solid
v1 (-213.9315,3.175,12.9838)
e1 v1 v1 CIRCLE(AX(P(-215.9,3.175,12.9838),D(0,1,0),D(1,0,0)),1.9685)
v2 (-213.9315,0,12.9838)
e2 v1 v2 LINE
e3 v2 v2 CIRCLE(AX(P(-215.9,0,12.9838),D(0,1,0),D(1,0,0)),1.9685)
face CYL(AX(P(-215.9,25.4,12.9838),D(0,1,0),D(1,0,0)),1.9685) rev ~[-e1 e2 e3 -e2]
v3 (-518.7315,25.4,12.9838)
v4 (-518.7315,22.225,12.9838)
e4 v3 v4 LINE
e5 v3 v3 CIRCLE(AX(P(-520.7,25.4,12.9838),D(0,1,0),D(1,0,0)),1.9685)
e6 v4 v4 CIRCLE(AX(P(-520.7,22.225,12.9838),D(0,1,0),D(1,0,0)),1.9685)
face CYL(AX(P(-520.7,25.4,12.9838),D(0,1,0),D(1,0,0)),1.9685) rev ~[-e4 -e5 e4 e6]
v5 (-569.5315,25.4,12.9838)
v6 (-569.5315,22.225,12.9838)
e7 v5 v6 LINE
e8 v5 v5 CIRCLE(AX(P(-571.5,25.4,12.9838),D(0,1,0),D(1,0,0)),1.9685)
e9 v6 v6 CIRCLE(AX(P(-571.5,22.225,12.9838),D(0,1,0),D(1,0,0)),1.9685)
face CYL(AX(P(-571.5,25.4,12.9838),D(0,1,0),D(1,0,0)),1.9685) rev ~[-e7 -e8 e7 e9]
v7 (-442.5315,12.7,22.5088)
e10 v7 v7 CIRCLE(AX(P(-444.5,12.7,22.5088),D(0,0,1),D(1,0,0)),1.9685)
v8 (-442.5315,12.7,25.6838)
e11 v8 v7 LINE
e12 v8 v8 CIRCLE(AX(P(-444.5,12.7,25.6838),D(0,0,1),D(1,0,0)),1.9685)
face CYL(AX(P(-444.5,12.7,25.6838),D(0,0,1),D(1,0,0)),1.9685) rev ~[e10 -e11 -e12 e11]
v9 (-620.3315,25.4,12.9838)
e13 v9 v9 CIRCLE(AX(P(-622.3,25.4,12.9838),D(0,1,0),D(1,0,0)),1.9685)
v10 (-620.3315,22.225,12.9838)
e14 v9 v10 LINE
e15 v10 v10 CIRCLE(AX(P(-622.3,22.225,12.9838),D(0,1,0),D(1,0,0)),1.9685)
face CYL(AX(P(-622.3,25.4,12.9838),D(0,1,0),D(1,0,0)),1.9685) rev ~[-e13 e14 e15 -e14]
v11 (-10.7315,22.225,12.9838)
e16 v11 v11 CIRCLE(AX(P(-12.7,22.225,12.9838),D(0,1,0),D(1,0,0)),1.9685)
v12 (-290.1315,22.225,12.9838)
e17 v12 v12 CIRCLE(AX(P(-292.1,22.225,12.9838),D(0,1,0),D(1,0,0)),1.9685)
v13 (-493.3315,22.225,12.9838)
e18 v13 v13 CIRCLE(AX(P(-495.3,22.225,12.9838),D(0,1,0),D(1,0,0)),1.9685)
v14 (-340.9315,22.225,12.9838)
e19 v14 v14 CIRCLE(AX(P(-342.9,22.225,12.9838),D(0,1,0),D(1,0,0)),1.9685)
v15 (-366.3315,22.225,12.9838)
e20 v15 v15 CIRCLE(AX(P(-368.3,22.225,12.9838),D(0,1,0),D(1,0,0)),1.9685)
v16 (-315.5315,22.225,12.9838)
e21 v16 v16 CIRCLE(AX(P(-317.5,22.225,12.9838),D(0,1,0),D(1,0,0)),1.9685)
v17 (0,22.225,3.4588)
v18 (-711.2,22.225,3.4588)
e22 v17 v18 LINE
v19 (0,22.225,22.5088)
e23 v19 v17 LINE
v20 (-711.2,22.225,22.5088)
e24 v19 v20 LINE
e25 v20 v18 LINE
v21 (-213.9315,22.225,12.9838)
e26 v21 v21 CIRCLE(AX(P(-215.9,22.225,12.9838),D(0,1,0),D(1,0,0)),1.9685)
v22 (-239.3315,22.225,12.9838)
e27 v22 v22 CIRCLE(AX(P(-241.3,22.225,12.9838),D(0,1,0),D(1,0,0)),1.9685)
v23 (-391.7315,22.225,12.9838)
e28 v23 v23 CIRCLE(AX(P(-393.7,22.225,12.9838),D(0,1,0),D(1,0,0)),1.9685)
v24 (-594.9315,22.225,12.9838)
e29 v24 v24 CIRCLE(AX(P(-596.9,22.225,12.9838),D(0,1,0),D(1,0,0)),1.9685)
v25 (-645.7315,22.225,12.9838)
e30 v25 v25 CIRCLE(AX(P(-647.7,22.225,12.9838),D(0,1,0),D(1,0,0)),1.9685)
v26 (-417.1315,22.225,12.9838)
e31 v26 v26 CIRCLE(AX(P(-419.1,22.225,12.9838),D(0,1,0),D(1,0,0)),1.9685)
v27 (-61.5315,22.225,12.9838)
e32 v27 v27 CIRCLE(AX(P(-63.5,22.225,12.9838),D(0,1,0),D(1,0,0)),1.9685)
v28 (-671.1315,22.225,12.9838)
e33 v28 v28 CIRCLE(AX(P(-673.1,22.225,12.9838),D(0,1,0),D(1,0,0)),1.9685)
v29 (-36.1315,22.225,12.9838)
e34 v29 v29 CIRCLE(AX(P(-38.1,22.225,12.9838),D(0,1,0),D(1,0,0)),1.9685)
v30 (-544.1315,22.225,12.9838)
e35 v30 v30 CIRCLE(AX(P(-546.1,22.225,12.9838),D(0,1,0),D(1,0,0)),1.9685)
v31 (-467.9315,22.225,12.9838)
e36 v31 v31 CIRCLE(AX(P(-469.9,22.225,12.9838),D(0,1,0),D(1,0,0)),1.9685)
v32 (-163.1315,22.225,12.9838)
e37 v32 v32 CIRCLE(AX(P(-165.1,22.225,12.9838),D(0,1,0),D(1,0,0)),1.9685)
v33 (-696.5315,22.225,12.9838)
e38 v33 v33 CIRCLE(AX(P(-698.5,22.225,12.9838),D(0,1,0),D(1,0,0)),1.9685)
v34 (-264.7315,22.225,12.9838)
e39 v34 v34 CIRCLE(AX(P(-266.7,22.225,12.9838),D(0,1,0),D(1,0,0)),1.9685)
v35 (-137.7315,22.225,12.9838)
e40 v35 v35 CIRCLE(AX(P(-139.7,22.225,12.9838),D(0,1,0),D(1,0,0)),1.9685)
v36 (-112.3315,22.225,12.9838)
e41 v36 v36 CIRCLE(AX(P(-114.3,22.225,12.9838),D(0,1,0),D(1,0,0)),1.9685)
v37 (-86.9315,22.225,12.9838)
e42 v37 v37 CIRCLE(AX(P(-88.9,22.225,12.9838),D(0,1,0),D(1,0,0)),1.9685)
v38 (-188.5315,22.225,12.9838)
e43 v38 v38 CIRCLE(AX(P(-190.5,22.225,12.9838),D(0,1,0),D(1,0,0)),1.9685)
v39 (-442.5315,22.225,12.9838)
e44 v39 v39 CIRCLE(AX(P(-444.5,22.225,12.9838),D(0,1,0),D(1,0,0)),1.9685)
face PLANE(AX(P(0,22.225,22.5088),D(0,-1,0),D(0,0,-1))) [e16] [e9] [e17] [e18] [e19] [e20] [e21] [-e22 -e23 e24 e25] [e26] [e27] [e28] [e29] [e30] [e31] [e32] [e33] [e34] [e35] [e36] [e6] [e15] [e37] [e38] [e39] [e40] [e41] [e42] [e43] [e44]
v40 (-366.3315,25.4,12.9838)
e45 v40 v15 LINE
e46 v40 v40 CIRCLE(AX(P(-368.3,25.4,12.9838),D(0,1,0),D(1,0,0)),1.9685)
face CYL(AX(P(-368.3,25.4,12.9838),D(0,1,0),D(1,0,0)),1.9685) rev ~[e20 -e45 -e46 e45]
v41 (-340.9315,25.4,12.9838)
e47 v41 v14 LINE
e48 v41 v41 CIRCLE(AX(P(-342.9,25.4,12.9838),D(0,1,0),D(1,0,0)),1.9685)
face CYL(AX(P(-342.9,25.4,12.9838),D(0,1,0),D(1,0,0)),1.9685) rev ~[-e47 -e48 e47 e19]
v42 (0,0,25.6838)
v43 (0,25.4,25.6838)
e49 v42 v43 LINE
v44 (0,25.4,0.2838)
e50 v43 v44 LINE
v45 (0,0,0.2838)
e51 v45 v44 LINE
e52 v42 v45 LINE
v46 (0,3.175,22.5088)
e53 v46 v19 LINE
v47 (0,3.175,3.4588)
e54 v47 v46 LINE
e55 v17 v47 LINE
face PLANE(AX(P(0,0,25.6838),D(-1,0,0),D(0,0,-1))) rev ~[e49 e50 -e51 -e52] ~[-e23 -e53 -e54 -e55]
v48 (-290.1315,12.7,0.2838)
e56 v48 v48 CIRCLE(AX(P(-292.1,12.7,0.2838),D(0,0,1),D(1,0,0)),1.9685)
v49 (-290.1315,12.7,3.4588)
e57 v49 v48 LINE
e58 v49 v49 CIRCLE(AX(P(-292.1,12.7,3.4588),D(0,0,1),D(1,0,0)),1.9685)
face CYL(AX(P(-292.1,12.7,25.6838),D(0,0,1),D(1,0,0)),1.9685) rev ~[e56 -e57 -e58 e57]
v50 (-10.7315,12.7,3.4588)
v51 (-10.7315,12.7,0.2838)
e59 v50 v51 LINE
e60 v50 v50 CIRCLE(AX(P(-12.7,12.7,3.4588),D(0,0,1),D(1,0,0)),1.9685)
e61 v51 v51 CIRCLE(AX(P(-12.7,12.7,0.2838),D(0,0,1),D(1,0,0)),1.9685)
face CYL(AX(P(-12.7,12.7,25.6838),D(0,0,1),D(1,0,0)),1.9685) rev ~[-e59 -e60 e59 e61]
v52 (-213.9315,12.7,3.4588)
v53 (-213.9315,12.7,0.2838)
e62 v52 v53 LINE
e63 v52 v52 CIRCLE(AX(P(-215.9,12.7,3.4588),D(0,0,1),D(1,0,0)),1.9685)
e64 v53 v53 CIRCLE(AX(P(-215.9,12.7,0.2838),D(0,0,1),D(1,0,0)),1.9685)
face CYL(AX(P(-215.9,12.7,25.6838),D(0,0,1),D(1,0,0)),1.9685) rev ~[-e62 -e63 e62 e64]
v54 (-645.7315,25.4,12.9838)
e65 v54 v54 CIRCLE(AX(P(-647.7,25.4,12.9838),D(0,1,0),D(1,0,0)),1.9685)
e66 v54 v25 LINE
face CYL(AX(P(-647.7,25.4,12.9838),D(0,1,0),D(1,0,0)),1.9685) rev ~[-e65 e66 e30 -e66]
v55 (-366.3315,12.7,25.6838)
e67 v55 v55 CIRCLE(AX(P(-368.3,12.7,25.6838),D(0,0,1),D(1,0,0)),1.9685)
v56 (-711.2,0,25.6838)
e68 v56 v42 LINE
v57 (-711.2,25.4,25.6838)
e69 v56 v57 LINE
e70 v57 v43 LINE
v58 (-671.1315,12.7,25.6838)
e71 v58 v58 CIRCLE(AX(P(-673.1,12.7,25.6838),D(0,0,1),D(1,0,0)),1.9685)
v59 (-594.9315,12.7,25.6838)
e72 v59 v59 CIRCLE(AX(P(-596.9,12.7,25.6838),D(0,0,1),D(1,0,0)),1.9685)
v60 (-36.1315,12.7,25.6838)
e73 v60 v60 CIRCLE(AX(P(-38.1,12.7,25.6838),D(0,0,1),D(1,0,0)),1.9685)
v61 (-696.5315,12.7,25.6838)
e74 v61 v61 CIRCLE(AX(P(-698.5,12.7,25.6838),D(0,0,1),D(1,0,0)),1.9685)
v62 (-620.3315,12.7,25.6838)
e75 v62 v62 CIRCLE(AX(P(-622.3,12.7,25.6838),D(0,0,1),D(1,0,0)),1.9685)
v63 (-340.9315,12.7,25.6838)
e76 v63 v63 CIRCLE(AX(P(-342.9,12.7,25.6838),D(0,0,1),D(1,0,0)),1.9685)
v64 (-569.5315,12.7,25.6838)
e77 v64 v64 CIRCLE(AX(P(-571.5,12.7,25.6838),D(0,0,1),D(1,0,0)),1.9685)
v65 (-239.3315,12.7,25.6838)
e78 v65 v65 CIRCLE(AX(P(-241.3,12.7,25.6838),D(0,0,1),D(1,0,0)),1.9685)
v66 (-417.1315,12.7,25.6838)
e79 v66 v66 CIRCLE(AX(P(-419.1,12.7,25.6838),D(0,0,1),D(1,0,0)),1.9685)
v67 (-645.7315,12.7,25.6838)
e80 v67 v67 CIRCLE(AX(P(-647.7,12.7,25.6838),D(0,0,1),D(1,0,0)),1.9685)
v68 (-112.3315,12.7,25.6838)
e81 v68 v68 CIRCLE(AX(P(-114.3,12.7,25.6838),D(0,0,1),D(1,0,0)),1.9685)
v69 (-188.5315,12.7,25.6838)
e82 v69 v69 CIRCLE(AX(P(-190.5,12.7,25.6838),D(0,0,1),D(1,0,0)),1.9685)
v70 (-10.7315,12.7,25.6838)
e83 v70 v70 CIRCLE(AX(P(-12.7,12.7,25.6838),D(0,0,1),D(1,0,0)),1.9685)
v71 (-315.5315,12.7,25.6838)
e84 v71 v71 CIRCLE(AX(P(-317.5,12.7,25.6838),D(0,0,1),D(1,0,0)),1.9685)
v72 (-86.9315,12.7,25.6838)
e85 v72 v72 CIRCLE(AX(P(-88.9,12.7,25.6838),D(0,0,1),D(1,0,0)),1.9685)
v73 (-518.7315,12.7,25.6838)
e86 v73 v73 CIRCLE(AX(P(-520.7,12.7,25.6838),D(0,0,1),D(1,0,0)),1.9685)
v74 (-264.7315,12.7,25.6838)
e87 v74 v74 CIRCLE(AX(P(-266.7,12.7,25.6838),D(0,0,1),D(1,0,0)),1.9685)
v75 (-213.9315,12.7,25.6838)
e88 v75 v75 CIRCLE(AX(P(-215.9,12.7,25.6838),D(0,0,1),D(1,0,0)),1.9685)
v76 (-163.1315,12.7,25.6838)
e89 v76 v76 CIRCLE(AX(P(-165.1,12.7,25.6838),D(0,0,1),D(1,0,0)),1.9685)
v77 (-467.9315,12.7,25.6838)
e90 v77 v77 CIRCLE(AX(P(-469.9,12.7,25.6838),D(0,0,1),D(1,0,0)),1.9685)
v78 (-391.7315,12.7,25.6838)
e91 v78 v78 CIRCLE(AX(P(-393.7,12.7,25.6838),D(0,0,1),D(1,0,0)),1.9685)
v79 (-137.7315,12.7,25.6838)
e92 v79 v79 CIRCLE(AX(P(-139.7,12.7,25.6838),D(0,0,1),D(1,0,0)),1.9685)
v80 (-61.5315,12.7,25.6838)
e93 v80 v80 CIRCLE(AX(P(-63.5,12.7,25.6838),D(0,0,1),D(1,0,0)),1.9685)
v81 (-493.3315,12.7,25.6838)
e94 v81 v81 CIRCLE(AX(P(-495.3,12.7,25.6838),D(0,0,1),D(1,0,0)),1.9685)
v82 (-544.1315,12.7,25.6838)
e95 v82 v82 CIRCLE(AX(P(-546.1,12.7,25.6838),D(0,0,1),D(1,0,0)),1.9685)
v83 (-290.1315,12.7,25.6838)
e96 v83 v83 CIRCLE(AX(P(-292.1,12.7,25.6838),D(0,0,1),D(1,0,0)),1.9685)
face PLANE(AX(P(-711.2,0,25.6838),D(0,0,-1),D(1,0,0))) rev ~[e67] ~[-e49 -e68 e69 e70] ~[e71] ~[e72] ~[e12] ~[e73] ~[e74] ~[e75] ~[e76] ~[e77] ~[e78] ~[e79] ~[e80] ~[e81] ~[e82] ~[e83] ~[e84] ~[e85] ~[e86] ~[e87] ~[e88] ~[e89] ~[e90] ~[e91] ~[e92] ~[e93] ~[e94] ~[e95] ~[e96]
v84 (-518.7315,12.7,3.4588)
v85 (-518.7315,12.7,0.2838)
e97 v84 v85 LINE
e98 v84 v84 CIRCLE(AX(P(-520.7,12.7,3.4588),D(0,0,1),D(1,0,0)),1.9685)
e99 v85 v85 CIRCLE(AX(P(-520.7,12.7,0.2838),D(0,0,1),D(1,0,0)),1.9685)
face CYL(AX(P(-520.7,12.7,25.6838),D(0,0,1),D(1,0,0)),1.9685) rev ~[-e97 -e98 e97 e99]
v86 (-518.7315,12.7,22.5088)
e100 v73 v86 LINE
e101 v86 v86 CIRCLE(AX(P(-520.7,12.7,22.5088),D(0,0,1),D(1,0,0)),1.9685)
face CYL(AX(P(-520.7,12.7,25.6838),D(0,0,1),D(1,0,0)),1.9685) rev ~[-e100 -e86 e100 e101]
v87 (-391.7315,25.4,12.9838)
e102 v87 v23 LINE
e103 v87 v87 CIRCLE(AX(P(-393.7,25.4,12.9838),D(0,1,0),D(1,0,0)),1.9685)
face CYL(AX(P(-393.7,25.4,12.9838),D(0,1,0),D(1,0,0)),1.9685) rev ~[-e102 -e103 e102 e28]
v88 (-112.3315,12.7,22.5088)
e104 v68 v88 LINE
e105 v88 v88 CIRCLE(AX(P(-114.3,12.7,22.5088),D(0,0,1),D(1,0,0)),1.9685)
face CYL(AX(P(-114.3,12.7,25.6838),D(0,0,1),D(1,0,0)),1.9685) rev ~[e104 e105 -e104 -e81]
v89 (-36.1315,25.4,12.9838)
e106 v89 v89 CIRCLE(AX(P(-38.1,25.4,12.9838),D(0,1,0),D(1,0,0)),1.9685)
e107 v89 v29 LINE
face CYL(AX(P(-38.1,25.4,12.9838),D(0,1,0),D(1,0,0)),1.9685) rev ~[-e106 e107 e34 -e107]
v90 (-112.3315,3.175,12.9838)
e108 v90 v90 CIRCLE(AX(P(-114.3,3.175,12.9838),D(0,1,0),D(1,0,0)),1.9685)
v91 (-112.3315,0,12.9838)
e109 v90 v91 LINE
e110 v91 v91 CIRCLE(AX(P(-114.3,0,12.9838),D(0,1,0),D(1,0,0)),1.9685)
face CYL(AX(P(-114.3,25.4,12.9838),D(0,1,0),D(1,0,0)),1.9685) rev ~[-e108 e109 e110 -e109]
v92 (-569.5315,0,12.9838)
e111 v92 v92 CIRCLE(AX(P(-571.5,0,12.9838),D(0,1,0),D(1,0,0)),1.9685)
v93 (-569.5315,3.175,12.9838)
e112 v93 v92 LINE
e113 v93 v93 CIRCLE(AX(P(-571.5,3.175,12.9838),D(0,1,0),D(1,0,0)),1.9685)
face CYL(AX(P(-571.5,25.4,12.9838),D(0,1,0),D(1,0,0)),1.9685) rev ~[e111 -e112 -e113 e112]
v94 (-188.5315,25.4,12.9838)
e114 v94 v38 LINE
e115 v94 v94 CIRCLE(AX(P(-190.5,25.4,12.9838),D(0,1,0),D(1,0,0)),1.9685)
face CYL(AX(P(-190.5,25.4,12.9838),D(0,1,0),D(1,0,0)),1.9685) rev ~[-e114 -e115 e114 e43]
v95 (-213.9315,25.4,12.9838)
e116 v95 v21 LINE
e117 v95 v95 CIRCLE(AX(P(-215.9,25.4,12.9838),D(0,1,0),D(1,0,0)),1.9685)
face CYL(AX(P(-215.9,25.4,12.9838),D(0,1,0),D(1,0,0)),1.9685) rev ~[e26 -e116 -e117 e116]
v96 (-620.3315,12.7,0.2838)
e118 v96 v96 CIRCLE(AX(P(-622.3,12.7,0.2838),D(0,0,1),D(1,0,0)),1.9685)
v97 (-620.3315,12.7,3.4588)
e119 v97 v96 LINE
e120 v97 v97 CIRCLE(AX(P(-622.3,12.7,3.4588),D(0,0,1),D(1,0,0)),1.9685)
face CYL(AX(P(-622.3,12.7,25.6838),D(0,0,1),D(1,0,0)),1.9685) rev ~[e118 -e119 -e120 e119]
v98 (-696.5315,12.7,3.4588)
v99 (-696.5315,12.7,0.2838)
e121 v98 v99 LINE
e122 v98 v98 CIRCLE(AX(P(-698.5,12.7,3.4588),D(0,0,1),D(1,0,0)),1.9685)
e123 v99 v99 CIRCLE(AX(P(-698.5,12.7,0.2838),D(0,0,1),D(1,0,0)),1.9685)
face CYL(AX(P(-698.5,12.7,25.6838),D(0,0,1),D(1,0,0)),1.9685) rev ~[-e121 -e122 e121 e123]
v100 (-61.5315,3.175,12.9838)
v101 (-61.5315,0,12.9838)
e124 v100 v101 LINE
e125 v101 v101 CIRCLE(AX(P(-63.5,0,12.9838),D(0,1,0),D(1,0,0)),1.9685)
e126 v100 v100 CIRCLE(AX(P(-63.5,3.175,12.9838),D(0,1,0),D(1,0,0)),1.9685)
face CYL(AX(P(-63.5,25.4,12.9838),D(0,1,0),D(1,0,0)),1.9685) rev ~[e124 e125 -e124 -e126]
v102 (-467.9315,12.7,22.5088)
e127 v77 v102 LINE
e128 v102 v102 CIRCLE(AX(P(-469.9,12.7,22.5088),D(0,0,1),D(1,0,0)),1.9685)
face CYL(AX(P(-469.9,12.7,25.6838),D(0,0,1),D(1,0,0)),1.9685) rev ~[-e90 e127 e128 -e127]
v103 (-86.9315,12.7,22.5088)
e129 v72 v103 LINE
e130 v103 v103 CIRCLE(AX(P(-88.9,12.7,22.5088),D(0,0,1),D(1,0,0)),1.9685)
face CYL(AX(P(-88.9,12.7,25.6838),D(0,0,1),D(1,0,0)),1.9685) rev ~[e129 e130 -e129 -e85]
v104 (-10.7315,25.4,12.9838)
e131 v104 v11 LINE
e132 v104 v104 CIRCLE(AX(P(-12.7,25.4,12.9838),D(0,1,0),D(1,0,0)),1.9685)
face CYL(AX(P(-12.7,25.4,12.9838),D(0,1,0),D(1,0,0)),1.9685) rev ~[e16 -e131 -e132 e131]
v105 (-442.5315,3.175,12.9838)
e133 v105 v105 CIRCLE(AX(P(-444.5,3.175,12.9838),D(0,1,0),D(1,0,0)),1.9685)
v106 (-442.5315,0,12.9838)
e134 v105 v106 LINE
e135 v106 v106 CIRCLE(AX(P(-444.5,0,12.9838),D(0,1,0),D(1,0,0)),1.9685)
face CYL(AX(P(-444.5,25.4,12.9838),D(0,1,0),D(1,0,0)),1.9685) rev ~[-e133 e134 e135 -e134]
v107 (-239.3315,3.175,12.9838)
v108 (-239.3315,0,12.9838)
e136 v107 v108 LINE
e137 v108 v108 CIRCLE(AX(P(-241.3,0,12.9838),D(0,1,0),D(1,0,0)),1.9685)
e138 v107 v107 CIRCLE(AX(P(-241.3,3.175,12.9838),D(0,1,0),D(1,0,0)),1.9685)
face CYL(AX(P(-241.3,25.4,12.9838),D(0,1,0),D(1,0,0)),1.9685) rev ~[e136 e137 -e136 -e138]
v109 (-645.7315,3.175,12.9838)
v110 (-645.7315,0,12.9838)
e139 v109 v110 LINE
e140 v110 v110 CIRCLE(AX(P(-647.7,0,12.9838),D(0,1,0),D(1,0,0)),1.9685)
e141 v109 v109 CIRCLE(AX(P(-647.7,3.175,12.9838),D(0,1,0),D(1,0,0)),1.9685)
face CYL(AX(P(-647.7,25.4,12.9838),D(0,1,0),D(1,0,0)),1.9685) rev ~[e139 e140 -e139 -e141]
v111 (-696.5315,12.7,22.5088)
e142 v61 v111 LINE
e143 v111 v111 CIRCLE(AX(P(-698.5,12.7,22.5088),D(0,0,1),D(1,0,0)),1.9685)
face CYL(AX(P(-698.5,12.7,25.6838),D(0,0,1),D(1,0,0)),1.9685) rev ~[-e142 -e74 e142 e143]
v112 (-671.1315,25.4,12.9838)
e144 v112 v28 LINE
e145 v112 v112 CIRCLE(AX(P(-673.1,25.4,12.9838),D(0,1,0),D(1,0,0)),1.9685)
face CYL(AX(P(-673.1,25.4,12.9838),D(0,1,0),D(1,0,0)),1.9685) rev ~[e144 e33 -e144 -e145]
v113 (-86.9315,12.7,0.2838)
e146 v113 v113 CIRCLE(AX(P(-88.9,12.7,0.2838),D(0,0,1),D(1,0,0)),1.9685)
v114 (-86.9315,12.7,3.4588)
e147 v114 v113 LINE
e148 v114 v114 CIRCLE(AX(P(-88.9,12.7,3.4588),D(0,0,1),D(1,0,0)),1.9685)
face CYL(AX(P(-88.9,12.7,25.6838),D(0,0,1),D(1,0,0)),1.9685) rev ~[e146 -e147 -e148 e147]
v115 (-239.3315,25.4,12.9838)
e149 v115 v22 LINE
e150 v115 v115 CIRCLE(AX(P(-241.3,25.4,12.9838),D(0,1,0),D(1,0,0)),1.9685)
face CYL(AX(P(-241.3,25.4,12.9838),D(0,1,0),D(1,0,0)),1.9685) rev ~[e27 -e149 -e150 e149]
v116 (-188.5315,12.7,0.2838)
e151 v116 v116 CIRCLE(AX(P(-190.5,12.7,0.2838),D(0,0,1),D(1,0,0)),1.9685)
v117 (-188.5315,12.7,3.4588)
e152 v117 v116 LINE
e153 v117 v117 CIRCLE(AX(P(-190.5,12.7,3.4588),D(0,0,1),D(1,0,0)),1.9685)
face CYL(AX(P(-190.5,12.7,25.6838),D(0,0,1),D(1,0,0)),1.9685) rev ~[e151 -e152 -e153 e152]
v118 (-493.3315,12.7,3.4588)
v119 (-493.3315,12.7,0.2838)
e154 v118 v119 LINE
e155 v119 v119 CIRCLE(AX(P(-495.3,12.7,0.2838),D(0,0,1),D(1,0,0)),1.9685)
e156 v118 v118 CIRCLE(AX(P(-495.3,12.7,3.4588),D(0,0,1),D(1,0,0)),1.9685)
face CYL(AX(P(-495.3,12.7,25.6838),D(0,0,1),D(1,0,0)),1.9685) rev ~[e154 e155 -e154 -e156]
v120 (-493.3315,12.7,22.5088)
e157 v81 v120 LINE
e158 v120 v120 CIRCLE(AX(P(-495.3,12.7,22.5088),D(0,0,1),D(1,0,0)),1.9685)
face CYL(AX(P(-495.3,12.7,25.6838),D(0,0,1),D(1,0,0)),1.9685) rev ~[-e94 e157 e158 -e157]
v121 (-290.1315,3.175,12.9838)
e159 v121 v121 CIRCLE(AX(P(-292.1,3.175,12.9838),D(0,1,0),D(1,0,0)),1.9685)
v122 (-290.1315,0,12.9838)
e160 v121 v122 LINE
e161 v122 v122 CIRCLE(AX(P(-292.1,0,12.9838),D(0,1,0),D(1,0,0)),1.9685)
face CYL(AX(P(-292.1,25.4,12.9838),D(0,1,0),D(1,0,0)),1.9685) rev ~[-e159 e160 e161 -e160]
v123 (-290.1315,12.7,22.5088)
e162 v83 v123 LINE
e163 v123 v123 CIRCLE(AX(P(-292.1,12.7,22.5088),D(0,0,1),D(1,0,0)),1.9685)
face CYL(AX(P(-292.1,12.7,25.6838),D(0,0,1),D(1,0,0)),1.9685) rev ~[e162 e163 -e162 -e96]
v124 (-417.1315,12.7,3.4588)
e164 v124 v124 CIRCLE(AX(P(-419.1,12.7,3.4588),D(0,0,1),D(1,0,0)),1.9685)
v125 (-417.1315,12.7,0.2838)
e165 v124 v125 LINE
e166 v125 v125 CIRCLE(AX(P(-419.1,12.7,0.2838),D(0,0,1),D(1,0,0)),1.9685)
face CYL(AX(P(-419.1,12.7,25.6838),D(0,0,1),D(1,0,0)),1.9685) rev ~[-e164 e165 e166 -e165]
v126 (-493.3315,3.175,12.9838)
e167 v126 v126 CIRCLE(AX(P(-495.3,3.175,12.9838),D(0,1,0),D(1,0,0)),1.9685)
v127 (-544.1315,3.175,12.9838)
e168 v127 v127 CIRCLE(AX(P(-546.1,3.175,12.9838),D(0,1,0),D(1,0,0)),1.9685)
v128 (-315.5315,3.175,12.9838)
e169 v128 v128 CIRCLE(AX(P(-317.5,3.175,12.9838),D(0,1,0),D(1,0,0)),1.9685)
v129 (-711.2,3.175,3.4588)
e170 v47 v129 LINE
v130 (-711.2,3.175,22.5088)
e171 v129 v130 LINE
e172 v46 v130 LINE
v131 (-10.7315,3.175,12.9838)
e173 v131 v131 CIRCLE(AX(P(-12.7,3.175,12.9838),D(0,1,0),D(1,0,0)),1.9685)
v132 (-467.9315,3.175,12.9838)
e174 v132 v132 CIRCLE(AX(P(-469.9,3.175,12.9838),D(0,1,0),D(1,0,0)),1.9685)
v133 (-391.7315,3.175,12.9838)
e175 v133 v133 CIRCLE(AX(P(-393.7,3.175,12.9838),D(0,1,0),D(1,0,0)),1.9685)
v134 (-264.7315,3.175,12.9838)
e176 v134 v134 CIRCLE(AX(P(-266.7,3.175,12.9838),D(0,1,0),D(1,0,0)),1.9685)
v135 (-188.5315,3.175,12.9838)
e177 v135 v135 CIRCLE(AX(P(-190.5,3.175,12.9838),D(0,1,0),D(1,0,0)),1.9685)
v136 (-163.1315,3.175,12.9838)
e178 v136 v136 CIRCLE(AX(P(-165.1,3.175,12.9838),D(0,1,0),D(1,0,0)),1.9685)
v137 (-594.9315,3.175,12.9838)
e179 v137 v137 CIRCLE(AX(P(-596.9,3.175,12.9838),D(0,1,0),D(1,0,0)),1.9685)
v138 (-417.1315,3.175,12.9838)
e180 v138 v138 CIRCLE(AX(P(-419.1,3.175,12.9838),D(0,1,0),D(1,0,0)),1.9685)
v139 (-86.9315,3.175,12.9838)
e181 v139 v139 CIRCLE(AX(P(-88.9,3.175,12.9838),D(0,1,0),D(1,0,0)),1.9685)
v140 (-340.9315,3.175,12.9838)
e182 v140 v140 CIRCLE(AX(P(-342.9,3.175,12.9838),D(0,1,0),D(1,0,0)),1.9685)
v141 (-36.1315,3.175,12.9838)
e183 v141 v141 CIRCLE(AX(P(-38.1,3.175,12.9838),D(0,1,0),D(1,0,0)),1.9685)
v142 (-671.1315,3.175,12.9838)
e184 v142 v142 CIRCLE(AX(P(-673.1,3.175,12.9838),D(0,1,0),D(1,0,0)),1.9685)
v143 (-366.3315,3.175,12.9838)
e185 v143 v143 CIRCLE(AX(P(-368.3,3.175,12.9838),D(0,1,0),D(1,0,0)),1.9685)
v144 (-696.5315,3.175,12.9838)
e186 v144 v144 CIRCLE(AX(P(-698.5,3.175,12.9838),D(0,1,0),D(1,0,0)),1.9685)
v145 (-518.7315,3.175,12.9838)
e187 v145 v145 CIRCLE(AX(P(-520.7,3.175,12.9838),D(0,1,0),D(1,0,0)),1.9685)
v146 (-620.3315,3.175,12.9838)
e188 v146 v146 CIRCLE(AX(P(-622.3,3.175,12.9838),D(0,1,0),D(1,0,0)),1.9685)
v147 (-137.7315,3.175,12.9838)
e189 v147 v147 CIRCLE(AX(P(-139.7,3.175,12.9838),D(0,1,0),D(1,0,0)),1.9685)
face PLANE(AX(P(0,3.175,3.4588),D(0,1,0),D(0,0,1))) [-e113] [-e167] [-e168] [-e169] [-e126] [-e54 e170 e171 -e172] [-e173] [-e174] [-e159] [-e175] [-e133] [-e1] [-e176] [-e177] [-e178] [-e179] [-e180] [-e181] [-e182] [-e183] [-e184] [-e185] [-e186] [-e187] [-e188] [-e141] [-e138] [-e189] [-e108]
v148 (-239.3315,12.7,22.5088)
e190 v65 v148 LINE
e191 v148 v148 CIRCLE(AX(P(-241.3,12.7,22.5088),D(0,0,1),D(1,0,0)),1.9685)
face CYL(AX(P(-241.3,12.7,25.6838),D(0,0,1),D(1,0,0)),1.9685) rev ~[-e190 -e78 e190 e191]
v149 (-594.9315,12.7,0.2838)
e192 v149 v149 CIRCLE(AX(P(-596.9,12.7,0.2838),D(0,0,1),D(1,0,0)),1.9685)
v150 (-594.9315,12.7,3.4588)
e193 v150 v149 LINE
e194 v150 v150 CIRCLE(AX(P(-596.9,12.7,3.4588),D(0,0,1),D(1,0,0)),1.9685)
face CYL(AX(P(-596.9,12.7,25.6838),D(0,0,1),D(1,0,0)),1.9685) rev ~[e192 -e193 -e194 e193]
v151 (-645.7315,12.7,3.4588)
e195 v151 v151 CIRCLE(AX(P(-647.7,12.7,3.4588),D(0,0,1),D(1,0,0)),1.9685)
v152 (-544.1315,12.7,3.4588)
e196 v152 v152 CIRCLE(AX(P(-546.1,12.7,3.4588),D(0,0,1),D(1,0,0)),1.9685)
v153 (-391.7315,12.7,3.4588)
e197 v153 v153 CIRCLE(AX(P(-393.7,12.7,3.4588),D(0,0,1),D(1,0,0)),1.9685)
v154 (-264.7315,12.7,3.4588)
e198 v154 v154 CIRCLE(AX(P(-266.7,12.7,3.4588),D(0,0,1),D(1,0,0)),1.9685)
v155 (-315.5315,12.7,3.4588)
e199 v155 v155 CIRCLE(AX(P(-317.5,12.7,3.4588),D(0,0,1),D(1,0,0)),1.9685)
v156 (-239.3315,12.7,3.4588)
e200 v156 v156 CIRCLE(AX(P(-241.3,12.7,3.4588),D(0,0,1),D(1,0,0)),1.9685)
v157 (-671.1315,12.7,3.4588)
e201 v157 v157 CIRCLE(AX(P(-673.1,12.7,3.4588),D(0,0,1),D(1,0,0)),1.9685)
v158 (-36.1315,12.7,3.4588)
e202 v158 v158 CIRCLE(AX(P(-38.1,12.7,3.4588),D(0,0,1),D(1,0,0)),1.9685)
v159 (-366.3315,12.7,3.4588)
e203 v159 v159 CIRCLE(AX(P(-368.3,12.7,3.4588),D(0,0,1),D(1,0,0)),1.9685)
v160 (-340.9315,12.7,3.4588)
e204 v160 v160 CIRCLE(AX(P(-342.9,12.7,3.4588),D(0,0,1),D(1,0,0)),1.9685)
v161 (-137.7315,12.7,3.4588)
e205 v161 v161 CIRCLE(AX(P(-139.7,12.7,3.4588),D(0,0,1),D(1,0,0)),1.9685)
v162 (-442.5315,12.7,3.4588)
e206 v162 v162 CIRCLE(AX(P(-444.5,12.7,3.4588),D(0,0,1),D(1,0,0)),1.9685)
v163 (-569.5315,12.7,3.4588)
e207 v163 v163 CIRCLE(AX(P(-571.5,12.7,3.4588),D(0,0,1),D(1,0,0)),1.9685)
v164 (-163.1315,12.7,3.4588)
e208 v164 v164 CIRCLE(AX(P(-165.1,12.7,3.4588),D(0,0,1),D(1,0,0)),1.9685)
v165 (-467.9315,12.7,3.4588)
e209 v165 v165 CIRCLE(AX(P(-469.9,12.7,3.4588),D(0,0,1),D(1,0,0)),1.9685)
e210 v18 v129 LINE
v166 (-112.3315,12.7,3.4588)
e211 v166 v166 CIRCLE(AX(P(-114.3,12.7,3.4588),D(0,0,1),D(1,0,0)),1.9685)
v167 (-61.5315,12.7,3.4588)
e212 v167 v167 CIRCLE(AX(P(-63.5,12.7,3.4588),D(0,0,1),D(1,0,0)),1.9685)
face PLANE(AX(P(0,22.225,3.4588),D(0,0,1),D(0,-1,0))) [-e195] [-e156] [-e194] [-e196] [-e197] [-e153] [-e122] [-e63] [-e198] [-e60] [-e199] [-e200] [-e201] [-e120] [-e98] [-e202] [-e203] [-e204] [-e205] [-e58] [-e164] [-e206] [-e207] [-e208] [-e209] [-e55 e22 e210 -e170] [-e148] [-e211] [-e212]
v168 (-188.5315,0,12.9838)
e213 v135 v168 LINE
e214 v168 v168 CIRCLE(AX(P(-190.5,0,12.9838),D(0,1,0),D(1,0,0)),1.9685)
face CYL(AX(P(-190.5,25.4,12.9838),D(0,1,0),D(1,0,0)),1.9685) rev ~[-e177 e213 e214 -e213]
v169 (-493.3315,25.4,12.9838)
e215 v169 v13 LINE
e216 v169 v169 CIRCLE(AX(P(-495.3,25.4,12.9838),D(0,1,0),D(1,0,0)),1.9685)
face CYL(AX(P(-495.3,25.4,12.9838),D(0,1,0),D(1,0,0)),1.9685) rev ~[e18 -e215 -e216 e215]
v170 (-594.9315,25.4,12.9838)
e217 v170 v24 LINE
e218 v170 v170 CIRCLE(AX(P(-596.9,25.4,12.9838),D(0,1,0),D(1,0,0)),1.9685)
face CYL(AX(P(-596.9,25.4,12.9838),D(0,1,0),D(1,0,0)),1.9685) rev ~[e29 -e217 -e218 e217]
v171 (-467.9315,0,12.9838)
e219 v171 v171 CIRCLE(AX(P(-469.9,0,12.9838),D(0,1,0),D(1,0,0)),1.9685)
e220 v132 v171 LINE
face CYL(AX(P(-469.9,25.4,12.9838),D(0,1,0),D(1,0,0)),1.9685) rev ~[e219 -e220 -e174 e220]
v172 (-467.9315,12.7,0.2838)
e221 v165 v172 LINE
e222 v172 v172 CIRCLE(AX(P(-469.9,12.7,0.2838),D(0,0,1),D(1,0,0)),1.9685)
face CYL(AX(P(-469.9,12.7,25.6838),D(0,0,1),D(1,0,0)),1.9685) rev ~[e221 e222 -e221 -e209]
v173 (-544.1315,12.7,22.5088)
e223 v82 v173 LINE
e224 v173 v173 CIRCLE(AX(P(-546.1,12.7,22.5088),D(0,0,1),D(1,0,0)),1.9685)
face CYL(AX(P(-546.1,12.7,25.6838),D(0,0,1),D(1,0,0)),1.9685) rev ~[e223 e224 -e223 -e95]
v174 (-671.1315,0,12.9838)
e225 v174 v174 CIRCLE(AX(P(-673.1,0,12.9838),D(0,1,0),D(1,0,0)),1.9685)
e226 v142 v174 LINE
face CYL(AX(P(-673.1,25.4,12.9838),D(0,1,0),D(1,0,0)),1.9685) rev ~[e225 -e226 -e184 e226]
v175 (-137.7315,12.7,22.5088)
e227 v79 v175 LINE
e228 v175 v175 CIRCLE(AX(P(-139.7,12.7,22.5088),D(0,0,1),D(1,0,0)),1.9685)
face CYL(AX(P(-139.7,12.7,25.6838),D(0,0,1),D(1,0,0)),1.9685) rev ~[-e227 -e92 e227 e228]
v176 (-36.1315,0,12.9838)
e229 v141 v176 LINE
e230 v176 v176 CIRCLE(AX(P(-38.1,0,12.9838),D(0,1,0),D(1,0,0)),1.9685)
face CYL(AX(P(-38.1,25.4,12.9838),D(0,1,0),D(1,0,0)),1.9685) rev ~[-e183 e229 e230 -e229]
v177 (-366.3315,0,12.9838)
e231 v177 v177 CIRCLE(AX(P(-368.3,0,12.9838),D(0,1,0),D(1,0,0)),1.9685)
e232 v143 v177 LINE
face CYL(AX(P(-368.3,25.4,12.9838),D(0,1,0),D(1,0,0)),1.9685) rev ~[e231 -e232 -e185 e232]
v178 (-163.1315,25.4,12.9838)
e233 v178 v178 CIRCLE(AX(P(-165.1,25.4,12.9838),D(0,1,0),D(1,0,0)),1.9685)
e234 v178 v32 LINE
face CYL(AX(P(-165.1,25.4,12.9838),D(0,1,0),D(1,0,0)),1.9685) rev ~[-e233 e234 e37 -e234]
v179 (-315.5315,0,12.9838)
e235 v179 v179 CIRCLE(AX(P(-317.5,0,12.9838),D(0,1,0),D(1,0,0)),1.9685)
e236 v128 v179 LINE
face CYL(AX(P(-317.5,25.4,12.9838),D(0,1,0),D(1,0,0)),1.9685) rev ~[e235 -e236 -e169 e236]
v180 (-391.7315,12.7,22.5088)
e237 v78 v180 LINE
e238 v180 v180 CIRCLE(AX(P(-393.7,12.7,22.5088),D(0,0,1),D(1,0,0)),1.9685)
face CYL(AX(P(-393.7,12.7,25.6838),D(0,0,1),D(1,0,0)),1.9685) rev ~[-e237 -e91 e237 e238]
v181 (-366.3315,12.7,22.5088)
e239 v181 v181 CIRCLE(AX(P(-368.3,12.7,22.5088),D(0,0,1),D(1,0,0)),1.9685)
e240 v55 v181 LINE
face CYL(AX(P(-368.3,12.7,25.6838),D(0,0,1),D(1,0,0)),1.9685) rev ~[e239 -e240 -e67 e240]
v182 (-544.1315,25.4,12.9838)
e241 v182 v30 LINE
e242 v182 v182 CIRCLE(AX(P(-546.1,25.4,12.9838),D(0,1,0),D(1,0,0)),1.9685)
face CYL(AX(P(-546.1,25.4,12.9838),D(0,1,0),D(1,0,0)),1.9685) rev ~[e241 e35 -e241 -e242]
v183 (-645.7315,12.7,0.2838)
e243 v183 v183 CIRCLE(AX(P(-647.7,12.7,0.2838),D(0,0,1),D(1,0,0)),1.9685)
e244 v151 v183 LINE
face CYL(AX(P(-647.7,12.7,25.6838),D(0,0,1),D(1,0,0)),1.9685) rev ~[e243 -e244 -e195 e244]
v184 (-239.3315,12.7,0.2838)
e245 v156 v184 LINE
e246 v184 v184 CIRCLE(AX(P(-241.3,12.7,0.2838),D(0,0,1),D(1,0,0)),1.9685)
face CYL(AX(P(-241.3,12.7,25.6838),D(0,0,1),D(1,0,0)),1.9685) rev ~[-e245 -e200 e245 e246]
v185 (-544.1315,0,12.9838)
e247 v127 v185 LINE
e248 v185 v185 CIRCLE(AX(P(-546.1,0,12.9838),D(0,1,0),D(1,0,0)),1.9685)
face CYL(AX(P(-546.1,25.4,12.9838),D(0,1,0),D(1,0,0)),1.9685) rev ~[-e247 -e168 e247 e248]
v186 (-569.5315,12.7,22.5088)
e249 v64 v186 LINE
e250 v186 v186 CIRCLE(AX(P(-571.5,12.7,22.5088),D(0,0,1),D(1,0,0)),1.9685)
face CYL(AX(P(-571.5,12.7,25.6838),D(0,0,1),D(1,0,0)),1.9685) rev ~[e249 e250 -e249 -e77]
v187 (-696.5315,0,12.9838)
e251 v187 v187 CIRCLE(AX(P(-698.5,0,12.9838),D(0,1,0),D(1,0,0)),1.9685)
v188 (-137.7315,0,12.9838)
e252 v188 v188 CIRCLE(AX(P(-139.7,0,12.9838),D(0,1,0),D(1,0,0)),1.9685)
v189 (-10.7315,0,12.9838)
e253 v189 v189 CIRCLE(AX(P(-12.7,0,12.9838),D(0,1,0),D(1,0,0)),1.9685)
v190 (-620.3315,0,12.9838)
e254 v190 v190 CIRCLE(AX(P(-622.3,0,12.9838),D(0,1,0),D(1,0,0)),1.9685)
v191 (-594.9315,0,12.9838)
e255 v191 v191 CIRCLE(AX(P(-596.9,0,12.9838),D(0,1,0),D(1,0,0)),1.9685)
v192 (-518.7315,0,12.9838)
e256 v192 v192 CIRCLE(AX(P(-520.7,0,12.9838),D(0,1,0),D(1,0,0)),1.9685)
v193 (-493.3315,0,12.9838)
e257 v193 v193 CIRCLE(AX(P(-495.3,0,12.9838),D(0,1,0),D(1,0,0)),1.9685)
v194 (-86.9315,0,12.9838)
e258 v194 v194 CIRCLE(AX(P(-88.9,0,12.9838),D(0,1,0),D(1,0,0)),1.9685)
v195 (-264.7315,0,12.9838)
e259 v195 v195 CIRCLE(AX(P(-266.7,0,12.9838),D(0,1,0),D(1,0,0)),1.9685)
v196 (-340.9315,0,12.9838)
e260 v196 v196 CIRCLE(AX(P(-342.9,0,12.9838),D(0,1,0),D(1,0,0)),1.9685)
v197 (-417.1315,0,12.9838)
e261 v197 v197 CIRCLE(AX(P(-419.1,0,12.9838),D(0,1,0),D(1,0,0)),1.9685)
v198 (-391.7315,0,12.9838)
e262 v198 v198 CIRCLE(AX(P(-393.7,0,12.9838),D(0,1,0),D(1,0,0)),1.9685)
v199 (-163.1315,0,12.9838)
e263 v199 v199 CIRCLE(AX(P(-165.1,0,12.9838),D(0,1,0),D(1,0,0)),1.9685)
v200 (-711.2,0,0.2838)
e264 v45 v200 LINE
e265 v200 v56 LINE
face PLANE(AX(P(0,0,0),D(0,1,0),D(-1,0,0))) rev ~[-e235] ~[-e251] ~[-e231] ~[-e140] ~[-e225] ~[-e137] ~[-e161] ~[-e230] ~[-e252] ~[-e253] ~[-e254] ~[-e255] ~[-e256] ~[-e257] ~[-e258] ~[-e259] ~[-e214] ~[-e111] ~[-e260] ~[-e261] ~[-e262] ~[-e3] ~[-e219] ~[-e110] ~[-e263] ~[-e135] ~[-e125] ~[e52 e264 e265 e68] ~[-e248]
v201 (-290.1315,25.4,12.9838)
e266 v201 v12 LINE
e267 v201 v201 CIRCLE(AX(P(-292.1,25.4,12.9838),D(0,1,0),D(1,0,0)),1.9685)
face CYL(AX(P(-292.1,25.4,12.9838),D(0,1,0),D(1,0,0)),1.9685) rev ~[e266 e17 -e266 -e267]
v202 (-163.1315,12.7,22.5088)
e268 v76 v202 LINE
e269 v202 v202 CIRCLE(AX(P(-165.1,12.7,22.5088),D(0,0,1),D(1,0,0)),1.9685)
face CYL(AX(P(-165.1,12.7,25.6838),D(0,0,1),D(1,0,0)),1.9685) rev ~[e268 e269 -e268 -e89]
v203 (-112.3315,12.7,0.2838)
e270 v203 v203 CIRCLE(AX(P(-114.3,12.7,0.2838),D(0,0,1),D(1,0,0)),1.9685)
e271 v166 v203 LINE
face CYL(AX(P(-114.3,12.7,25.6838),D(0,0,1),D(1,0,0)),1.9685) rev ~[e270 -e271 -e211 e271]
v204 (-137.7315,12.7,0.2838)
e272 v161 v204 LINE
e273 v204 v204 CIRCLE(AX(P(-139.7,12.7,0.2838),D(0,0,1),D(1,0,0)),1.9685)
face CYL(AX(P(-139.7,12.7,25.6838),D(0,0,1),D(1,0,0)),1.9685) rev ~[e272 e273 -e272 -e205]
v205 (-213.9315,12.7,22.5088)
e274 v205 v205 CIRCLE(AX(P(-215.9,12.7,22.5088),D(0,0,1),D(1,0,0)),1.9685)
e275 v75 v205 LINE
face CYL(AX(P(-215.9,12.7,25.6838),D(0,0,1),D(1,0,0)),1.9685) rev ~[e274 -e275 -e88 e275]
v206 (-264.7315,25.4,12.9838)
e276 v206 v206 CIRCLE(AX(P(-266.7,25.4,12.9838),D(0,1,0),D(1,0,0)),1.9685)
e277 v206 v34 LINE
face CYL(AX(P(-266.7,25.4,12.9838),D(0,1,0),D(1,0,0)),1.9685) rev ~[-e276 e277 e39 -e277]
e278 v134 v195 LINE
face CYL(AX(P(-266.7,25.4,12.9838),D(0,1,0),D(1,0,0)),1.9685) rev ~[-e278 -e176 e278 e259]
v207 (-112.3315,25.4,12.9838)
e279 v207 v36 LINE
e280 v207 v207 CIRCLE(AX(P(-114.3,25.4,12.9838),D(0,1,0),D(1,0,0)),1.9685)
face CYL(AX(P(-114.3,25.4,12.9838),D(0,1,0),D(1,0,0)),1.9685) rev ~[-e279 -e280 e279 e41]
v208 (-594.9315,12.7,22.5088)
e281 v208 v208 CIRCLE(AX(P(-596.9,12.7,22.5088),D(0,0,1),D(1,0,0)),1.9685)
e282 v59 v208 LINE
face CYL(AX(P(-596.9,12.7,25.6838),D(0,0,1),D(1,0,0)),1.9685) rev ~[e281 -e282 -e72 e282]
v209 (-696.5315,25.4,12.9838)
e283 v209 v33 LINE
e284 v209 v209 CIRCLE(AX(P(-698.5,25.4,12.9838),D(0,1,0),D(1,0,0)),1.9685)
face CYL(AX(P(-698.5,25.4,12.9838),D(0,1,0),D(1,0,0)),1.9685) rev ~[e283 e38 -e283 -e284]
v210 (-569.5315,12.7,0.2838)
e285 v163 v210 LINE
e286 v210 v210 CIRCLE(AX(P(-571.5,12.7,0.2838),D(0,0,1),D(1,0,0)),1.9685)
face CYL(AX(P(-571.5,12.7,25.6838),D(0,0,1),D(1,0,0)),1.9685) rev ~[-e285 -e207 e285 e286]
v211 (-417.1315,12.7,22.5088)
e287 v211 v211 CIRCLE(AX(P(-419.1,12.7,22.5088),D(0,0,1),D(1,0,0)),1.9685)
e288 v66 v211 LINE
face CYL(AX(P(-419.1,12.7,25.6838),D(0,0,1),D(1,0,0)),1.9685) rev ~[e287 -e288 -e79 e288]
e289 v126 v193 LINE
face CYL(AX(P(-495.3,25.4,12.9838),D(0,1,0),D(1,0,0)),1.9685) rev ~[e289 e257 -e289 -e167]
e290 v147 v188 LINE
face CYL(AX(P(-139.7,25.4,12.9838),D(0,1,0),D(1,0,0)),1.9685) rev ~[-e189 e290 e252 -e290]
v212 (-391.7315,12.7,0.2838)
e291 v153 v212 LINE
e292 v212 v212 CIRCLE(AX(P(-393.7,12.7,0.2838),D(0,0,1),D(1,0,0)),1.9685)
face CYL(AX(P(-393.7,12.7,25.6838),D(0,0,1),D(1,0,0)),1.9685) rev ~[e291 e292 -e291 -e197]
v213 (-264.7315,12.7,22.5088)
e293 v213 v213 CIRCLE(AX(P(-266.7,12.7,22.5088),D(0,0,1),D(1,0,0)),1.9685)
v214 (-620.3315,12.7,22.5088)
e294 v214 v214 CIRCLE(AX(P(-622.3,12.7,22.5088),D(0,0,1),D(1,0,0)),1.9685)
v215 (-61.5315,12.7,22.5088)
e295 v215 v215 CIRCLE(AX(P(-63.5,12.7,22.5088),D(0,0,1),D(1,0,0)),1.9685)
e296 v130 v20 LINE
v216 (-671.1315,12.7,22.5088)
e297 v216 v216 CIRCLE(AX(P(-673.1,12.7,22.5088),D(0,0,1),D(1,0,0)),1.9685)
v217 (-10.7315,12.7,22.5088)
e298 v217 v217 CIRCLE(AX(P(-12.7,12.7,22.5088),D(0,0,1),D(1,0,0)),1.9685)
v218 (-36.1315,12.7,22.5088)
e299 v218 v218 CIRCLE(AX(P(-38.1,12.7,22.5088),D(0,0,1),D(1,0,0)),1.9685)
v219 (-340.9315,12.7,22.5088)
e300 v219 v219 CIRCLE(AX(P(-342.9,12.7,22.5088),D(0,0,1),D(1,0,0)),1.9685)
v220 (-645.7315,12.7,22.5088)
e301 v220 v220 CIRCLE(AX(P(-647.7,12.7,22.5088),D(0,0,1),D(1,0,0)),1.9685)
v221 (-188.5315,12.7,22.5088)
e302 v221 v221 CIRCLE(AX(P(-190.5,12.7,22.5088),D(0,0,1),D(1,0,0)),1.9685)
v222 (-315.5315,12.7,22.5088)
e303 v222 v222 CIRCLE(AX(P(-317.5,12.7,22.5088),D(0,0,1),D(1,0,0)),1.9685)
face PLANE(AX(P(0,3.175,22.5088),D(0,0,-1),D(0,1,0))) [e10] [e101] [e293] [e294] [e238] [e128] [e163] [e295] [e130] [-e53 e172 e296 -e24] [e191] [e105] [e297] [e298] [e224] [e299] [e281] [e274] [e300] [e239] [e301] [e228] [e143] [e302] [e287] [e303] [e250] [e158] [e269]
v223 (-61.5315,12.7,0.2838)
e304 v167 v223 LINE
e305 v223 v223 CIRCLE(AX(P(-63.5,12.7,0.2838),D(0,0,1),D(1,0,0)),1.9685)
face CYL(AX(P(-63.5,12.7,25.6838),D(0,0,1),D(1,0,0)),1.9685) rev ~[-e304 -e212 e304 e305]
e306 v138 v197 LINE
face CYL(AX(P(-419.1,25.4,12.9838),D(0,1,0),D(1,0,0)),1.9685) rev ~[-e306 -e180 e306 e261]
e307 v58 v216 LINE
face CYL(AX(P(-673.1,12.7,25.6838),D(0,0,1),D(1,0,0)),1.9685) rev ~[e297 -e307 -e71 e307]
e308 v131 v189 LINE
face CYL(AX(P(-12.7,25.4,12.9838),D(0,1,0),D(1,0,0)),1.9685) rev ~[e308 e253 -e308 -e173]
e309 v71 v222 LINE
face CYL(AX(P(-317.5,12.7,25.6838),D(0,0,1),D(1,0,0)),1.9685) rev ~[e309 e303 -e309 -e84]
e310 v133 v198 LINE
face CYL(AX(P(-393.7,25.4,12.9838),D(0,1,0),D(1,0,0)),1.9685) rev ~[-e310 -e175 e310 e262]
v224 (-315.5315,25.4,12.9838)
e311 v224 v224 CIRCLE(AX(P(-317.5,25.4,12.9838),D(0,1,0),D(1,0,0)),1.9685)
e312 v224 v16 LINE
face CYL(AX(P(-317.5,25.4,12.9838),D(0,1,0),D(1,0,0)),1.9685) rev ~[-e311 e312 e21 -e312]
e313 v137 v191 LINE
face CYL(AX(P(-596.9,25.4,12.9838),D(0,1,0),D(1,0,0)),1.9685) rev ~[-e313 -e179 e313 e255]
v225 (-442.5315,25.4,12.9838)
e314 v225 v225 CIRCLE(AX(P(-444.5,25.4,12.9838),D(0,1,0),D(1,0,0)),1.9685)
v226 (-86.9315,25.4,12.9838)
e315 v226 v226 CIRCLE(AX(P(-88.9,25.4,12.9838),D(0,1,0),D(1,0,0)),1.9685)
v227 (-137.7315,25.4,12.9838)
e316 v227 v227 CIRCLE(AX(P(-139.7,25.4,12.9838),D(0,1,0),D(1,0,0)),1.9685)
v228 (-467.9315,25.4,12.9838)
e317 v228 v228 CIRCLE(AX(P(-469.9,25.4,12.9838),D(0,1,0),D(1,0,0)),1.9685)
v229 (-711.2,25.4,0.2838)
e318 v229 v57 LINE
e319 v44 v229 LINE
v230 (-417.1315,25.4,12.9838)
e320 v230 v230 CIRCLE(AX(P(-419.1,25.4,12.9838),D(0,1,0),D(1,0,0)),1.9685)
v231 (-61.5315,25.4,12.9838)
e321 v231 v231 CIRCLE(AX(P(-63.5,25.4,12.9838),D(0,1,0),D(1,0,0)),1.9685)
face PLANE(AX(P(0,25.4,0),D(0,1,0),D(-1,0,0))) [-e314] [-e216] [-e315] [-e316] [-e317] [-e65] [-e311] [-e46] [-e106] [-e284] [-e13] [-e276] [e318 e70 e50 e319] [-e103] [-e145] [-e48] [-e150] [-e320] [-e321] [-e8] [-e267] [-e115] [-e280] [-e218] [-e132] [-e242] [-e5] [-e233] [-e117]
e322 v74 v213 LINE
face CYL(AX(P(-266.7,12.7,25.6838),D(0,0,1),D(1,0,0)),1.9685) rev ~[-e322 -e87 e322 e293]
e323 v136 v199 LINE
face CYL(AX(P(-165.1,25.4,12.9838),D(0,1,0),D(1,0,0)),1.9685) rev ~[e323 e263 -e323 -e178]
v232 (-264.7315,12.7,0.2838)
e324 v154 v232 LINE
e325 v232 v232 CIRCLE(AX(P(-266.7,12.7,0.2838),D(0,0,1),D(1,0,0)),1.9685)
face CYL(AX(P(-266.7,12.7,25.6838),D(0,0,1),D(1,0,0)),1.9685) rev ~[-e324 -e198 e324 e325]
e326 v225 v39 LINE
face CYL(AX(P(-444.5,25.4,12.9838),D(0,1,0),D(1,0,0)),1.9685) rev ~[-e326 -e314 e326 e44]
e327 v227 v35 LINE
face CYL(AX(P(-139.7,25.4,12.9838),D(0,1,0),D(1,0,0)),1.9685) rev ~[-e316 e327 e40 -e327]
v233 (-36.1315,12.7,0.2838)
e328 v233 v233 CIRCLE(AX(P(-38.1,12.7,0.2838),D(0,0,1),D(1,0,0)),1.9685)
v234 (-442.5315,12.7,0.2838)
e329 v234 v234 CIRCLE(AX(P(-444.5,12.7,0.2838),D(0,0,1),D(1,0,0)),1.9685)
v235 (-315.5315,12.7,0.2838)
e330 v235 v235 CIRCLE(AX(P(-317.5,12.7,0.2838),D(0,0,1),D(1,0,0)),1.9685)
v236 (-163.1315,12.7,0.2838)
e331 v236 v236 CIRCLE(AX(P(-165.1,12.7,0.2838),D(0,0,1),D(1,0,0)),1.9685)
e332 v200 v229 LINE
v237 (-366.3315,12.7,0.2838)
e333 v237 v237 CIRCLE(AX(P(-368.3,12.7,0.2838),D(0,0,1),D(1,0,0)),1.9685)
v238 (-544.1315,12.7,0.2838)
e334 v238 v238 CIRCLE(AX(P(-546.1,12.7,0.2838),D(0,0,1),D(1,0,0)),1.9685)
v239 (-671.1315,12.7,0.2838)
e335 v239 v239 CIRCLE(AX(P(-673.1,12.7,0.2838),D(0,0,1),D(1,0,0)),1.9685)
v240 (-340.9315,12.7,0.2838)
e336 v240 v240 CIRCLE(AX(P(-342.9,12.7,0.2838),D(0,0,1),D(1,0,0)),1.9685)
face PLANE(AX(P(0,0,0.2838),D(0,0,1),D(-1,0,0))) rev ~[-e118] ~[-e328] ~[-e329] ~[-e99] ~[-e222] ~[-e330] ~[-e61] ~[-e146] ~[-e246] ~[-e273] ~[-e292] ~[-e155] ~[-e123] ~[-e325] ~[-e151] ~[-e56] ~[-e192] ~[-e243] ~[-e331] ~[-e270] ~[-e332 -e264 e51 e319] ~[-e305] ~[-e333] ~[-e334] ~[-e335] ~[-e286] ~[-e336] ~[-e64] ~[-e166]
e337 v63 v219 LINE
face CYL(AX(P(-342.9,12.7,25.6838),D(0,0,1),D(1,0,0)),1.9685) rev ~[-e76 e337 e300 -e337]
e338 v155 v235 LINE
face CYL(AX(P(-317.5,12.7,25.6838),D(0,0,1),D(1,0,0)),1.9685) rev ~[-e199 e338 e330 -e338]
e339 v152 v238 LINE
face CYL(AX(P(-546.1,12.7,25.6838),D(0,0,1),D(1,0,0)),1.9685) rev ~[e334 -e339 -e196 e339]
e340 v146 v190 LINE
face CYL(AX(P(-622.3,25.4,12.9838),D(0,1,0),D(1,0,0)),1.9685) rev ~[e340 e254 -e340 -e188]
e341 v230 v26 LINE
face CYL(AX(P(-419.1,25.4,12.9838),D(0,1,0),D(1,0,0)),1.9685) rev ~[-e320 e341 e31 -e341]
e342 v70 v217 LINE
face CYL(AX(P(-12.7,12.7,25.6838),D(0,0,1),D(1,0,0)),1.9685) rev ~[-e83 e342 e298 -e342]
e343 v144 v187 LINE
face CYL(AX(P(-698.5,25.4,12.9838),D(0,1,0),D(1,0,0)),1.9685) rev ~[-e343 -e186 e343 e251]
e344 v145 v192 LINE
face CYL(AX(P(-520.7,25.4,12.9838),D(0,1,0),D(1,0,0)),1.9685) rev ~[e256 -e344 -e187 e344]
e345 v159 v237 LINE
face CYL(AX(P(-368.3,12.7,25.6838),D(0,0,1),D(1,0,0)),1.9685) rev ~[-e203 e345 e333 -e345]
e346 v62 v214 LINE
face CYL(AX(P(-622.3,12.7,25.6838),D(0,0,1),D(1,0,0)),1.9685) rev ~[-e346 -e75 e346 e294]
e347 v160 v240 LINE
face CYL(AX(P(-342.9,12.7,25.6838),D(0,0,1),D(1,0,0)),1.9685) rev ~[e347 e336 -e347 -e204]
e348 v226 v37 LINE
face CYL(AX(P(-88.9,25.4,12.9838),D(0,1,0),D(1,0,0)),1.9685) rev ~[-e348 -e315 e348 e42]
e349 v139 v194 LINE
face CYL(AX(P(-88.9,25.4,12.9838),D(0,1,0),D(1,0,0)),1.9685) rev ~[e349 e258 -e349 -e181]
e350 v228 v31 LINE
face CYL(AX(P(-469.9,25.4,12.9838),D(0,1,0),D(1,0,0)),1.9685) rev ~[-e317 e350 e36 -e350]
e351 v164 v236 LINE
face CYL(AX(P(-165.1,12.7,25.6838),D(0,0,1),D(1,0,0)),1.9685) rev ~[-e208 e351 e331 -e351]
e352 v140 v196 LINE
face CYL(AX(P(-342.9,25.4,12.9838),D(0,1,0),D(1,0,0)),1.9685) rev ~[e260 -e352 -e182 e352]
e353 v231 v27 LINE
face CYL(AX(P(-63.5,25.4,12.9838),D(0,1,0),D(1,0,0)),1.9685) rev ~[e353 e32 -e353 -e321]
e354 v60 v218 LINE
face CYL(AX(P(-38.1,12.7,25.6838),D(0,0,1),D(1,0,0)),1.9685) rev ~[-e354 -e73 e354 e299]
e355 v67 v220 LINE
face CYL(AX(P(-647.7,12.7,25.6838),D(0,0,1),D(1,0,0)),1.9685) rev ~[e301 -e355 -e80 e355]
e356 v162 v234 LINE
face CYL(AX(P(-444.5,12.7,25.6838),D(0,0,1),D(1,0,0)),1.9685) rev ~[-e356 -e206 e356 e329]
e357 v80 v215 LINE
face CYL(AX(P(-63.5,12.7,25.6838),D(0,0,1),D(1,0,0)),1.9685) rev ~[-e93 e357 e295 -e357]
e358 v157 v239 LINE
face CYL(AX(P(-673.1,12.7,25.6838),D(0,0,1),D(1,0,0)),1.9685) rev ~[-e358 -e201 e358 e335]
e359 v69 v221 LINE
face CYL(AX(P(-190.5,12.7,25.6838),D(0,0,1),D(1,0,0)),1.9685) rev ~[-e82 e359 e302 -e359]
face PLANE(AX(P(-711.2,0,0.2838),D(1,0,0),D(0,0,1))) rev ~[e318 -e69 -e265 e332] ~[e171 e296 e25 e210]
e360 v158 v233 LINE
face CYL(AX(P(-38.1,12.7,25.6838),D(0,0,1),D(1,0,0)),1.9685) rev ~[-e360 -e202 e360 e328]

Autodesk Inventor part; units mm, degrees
ref_plane "YZ Plane" through (0, 0, 0) normal (1, 0, 0) x (0, 1, 0)
ref_plane "XZ Plane" through (0, 0, 0) normal (0, 1, 0) x (-1, 0, 0)
ref_plane "XY Plane" through (0, 0, 0) normal (0, 0, 1) x (1, 0, 0)
sketch "Sketch1" plane through (0, 0, 0) normal (0, 1, 0) x (-1, 0, 0)
  line L0 (0, 0.2838) -> (711.2, 0.2838)
  line L1 (711.2, 0.2838) -> (711.2, 25.6838)
  line L2 (711.2, 25.6838) -> (0, 25.6838)
  line L3 (0, 25.6838) -> (0, 0.2838)
  point P0 (0, 0)
  dimension "d0" = 711.2
  dimension "d1" = 25.4
extrude "Extrusion1" add sketch "Sketch1" along normal blind 25.4
sketch "Sketch2" plane through (0, 0, 25.6838) normal (1, 0, 0) x (0, 0, -1)
  line L0 (3.175, 22.225) -> (22.225, 22.225)
  line L1 (22.225, 22.225) -> (22.225, 3.175)
  line L2 (22.225, 3.175) -> (3.175, 3.175)
  line L3 (3.175, 3.175) -> (3.175, 22.225)
  line L4 (0, 25.4) -> (25.4, 25.4) projected
  line L5 (0, 0) -> (0, 25.4) projected
  line L6 (25.4, 0) -> (25.4, 25.4) projected
  line L7 (0, 0) -> (25.4, 0) projected
  point P0 (25.6838, 0)
  dimension "d4" = 3.175
  dimension "d5" = 3.175
  dimension "d6" = 3.175
  dimension "d7" = 3.175
extrude "Extrusion2" cut sketch "Sketch2" against normal blind 711.2 contours L0 L1 L2 L3
sketch "Sketch3" plane through (-711.2, 0, 25.6838) normal (0, 0, 1) x (1, 0, 0)
  circle A0 centre (698.5, 12.7) radius 1.9685
  line L0 (0, 25.4) -> (711.2, 25.4) projected
  line L1 (711.2, 0) -> (711.2, 25.4) projected
  circle A1 centre (673.1, 12.7) radius 1.9685
  circle A2 centre (647.7, 12.7) radius 1.9685
  circle A3 centre (622.3, 12.7) radius 1.9685
  circle A4 centre (596.9, 12.7) radius 1.9685
  circle A5 centre (571.5, 12.7) radius 1.9685
  circle A6 centre (546.1, 12.7) radius 1.9685
  circle A7 centre (520.7, 12.7) radius 1.9685
  circle A8 centre (495.3, 12.7) radius 1.9685
  circle A9 centre (469.9, 12.7) radius 1.9685
  circle A10 centre (444.5, 12.7) radius 1.9685
  circle A11 centre (419.1, 12.7) radius 1.9685
  circle A12 centre (393.7, 12.7) radius 1.9685
  circle A13 centre (368.3, 12.7) radius 1.9685
  circle A14 centre (342.9, 12.7) radius 1.9685
  circle A15 centre (317.5, 12.7) radius 1.9685
  circle A16 centre (292.1, 12.7) radius 1.9685
  circle A17 centre (266.7, 12.7) radius 1.9685
  circle A18 centre (241.3, 12.7) radius 1.9685
  circle A19 centre (215.9, 12.7) radius 1.9685
  circle A20 centre (190.5, 12.7) radius 1.9685
  circle A21 centre (165.1, 12.7) radius 1.9685
  circle A22 centre (139.7, 12.7) radius 1.9685
  circle A23 centre (114.3, 12.7) radius 1.9685
  circle A24 centre (88.9, 12.7) radius 1.9685
  circle A25 centre (63.5, 12.7) radius 1.9685
  circle A26 centre (38.1, 12.7) radius 1.9685
  circle A27 centre (12.7, 12.7) radius 1.9685
  dimension "d10" = 3.937
  dimension "d11" = 12.7
  dimension "d12" = 12.7
  dimension "d15" = 25.4
extrude "Extrusion3" cut sketch "Sketch3" against normal blind 25.4
sketch "Sketch4" plane through (0, 25.4, 0) normal (0, 1, 0) x (1, 0, 0)
  circle A0 centre (-12.7, -12.9838) radius 1.9685
  line L0 (0, -0.2838) -> (-711.2, -0.2838) projected
  line L1 (0, -25.6838) -> (0, -0.2838) projected
  circle A1 centre (-38.1, -12.9838) radius 1.9685
  circle A2 centre (-63.5, -12.9838) radius 1.9685
  circle A3 centre (-88.9, -12.9838) radius 1.9685
  circle A4 centre (-114.3, -12.9838) radius 1.9685
  circle A5 centre (-139.7, -12.9838) radius 1.9685
  circle A6 centre (-165.1, -12.9838) radius 1.9685
  circle A7 centre (-190.5, -12.9838) radius 1.9685
  circle A8 centre (-215.9, -12.9838) radius 1.9685
  circle A9 centre (-241.3, -12.9838) radius 1.9685
  circle A10 centre (-266.7, -12.9838) radius 1.9685
  circle A11 centre (-292.1, -12.9838) radius 1.9685
  circle A12 centre (-317.5, -12.9838) radius 1.9685
  circle A13 centre (-342.9, -12.9838) radius 1.9685
  circle A14 centre (-368.3, -12.9838) radius 1.9685
  circle A15 centre (-393.7, -12.9838) radius 1.9685
  circle A16 centre (-419.1, -12.9838) radius 1.9685
  circle A17 centre (-444.5, -12.9838) radius 1.9685
  circle A18 centre (-469.9, -12.9838) radius 1.9685
  circle A19 centre (-495.3, -12.9838) radius 1.9685
  circle A20 centre (-520.7, -12.9838) radius 1.9685
  circle A21 centre (-546.1, -12.9838) radius 1.9685
  circle A22 centre (-571.5, -12.9838) radius 1.9685
  circle A23 centre (-596.9, -12.9838) radius 1.9685
  circle A24 centre (-622.3, -12.9838) radius 1.9685
  circle A25 centre (-647.7, -12.9838) radius 1.9685
  circle A26 centre (-673.1, -12.9838) radius 1.9685
  circle A27 centre (-698.5, -12.9838) radius 1.9685
  point P0 (0, 0)
  dimension "d22" = 3.937
  dimension "d23" = 12.7
  dimension "d24" = 12.7
  dimension "d27" = 25.4
extrude "Extrusion4" cut sketch "Sketch4" against normal blind 25.4
properties part number "kermit frame 5"
